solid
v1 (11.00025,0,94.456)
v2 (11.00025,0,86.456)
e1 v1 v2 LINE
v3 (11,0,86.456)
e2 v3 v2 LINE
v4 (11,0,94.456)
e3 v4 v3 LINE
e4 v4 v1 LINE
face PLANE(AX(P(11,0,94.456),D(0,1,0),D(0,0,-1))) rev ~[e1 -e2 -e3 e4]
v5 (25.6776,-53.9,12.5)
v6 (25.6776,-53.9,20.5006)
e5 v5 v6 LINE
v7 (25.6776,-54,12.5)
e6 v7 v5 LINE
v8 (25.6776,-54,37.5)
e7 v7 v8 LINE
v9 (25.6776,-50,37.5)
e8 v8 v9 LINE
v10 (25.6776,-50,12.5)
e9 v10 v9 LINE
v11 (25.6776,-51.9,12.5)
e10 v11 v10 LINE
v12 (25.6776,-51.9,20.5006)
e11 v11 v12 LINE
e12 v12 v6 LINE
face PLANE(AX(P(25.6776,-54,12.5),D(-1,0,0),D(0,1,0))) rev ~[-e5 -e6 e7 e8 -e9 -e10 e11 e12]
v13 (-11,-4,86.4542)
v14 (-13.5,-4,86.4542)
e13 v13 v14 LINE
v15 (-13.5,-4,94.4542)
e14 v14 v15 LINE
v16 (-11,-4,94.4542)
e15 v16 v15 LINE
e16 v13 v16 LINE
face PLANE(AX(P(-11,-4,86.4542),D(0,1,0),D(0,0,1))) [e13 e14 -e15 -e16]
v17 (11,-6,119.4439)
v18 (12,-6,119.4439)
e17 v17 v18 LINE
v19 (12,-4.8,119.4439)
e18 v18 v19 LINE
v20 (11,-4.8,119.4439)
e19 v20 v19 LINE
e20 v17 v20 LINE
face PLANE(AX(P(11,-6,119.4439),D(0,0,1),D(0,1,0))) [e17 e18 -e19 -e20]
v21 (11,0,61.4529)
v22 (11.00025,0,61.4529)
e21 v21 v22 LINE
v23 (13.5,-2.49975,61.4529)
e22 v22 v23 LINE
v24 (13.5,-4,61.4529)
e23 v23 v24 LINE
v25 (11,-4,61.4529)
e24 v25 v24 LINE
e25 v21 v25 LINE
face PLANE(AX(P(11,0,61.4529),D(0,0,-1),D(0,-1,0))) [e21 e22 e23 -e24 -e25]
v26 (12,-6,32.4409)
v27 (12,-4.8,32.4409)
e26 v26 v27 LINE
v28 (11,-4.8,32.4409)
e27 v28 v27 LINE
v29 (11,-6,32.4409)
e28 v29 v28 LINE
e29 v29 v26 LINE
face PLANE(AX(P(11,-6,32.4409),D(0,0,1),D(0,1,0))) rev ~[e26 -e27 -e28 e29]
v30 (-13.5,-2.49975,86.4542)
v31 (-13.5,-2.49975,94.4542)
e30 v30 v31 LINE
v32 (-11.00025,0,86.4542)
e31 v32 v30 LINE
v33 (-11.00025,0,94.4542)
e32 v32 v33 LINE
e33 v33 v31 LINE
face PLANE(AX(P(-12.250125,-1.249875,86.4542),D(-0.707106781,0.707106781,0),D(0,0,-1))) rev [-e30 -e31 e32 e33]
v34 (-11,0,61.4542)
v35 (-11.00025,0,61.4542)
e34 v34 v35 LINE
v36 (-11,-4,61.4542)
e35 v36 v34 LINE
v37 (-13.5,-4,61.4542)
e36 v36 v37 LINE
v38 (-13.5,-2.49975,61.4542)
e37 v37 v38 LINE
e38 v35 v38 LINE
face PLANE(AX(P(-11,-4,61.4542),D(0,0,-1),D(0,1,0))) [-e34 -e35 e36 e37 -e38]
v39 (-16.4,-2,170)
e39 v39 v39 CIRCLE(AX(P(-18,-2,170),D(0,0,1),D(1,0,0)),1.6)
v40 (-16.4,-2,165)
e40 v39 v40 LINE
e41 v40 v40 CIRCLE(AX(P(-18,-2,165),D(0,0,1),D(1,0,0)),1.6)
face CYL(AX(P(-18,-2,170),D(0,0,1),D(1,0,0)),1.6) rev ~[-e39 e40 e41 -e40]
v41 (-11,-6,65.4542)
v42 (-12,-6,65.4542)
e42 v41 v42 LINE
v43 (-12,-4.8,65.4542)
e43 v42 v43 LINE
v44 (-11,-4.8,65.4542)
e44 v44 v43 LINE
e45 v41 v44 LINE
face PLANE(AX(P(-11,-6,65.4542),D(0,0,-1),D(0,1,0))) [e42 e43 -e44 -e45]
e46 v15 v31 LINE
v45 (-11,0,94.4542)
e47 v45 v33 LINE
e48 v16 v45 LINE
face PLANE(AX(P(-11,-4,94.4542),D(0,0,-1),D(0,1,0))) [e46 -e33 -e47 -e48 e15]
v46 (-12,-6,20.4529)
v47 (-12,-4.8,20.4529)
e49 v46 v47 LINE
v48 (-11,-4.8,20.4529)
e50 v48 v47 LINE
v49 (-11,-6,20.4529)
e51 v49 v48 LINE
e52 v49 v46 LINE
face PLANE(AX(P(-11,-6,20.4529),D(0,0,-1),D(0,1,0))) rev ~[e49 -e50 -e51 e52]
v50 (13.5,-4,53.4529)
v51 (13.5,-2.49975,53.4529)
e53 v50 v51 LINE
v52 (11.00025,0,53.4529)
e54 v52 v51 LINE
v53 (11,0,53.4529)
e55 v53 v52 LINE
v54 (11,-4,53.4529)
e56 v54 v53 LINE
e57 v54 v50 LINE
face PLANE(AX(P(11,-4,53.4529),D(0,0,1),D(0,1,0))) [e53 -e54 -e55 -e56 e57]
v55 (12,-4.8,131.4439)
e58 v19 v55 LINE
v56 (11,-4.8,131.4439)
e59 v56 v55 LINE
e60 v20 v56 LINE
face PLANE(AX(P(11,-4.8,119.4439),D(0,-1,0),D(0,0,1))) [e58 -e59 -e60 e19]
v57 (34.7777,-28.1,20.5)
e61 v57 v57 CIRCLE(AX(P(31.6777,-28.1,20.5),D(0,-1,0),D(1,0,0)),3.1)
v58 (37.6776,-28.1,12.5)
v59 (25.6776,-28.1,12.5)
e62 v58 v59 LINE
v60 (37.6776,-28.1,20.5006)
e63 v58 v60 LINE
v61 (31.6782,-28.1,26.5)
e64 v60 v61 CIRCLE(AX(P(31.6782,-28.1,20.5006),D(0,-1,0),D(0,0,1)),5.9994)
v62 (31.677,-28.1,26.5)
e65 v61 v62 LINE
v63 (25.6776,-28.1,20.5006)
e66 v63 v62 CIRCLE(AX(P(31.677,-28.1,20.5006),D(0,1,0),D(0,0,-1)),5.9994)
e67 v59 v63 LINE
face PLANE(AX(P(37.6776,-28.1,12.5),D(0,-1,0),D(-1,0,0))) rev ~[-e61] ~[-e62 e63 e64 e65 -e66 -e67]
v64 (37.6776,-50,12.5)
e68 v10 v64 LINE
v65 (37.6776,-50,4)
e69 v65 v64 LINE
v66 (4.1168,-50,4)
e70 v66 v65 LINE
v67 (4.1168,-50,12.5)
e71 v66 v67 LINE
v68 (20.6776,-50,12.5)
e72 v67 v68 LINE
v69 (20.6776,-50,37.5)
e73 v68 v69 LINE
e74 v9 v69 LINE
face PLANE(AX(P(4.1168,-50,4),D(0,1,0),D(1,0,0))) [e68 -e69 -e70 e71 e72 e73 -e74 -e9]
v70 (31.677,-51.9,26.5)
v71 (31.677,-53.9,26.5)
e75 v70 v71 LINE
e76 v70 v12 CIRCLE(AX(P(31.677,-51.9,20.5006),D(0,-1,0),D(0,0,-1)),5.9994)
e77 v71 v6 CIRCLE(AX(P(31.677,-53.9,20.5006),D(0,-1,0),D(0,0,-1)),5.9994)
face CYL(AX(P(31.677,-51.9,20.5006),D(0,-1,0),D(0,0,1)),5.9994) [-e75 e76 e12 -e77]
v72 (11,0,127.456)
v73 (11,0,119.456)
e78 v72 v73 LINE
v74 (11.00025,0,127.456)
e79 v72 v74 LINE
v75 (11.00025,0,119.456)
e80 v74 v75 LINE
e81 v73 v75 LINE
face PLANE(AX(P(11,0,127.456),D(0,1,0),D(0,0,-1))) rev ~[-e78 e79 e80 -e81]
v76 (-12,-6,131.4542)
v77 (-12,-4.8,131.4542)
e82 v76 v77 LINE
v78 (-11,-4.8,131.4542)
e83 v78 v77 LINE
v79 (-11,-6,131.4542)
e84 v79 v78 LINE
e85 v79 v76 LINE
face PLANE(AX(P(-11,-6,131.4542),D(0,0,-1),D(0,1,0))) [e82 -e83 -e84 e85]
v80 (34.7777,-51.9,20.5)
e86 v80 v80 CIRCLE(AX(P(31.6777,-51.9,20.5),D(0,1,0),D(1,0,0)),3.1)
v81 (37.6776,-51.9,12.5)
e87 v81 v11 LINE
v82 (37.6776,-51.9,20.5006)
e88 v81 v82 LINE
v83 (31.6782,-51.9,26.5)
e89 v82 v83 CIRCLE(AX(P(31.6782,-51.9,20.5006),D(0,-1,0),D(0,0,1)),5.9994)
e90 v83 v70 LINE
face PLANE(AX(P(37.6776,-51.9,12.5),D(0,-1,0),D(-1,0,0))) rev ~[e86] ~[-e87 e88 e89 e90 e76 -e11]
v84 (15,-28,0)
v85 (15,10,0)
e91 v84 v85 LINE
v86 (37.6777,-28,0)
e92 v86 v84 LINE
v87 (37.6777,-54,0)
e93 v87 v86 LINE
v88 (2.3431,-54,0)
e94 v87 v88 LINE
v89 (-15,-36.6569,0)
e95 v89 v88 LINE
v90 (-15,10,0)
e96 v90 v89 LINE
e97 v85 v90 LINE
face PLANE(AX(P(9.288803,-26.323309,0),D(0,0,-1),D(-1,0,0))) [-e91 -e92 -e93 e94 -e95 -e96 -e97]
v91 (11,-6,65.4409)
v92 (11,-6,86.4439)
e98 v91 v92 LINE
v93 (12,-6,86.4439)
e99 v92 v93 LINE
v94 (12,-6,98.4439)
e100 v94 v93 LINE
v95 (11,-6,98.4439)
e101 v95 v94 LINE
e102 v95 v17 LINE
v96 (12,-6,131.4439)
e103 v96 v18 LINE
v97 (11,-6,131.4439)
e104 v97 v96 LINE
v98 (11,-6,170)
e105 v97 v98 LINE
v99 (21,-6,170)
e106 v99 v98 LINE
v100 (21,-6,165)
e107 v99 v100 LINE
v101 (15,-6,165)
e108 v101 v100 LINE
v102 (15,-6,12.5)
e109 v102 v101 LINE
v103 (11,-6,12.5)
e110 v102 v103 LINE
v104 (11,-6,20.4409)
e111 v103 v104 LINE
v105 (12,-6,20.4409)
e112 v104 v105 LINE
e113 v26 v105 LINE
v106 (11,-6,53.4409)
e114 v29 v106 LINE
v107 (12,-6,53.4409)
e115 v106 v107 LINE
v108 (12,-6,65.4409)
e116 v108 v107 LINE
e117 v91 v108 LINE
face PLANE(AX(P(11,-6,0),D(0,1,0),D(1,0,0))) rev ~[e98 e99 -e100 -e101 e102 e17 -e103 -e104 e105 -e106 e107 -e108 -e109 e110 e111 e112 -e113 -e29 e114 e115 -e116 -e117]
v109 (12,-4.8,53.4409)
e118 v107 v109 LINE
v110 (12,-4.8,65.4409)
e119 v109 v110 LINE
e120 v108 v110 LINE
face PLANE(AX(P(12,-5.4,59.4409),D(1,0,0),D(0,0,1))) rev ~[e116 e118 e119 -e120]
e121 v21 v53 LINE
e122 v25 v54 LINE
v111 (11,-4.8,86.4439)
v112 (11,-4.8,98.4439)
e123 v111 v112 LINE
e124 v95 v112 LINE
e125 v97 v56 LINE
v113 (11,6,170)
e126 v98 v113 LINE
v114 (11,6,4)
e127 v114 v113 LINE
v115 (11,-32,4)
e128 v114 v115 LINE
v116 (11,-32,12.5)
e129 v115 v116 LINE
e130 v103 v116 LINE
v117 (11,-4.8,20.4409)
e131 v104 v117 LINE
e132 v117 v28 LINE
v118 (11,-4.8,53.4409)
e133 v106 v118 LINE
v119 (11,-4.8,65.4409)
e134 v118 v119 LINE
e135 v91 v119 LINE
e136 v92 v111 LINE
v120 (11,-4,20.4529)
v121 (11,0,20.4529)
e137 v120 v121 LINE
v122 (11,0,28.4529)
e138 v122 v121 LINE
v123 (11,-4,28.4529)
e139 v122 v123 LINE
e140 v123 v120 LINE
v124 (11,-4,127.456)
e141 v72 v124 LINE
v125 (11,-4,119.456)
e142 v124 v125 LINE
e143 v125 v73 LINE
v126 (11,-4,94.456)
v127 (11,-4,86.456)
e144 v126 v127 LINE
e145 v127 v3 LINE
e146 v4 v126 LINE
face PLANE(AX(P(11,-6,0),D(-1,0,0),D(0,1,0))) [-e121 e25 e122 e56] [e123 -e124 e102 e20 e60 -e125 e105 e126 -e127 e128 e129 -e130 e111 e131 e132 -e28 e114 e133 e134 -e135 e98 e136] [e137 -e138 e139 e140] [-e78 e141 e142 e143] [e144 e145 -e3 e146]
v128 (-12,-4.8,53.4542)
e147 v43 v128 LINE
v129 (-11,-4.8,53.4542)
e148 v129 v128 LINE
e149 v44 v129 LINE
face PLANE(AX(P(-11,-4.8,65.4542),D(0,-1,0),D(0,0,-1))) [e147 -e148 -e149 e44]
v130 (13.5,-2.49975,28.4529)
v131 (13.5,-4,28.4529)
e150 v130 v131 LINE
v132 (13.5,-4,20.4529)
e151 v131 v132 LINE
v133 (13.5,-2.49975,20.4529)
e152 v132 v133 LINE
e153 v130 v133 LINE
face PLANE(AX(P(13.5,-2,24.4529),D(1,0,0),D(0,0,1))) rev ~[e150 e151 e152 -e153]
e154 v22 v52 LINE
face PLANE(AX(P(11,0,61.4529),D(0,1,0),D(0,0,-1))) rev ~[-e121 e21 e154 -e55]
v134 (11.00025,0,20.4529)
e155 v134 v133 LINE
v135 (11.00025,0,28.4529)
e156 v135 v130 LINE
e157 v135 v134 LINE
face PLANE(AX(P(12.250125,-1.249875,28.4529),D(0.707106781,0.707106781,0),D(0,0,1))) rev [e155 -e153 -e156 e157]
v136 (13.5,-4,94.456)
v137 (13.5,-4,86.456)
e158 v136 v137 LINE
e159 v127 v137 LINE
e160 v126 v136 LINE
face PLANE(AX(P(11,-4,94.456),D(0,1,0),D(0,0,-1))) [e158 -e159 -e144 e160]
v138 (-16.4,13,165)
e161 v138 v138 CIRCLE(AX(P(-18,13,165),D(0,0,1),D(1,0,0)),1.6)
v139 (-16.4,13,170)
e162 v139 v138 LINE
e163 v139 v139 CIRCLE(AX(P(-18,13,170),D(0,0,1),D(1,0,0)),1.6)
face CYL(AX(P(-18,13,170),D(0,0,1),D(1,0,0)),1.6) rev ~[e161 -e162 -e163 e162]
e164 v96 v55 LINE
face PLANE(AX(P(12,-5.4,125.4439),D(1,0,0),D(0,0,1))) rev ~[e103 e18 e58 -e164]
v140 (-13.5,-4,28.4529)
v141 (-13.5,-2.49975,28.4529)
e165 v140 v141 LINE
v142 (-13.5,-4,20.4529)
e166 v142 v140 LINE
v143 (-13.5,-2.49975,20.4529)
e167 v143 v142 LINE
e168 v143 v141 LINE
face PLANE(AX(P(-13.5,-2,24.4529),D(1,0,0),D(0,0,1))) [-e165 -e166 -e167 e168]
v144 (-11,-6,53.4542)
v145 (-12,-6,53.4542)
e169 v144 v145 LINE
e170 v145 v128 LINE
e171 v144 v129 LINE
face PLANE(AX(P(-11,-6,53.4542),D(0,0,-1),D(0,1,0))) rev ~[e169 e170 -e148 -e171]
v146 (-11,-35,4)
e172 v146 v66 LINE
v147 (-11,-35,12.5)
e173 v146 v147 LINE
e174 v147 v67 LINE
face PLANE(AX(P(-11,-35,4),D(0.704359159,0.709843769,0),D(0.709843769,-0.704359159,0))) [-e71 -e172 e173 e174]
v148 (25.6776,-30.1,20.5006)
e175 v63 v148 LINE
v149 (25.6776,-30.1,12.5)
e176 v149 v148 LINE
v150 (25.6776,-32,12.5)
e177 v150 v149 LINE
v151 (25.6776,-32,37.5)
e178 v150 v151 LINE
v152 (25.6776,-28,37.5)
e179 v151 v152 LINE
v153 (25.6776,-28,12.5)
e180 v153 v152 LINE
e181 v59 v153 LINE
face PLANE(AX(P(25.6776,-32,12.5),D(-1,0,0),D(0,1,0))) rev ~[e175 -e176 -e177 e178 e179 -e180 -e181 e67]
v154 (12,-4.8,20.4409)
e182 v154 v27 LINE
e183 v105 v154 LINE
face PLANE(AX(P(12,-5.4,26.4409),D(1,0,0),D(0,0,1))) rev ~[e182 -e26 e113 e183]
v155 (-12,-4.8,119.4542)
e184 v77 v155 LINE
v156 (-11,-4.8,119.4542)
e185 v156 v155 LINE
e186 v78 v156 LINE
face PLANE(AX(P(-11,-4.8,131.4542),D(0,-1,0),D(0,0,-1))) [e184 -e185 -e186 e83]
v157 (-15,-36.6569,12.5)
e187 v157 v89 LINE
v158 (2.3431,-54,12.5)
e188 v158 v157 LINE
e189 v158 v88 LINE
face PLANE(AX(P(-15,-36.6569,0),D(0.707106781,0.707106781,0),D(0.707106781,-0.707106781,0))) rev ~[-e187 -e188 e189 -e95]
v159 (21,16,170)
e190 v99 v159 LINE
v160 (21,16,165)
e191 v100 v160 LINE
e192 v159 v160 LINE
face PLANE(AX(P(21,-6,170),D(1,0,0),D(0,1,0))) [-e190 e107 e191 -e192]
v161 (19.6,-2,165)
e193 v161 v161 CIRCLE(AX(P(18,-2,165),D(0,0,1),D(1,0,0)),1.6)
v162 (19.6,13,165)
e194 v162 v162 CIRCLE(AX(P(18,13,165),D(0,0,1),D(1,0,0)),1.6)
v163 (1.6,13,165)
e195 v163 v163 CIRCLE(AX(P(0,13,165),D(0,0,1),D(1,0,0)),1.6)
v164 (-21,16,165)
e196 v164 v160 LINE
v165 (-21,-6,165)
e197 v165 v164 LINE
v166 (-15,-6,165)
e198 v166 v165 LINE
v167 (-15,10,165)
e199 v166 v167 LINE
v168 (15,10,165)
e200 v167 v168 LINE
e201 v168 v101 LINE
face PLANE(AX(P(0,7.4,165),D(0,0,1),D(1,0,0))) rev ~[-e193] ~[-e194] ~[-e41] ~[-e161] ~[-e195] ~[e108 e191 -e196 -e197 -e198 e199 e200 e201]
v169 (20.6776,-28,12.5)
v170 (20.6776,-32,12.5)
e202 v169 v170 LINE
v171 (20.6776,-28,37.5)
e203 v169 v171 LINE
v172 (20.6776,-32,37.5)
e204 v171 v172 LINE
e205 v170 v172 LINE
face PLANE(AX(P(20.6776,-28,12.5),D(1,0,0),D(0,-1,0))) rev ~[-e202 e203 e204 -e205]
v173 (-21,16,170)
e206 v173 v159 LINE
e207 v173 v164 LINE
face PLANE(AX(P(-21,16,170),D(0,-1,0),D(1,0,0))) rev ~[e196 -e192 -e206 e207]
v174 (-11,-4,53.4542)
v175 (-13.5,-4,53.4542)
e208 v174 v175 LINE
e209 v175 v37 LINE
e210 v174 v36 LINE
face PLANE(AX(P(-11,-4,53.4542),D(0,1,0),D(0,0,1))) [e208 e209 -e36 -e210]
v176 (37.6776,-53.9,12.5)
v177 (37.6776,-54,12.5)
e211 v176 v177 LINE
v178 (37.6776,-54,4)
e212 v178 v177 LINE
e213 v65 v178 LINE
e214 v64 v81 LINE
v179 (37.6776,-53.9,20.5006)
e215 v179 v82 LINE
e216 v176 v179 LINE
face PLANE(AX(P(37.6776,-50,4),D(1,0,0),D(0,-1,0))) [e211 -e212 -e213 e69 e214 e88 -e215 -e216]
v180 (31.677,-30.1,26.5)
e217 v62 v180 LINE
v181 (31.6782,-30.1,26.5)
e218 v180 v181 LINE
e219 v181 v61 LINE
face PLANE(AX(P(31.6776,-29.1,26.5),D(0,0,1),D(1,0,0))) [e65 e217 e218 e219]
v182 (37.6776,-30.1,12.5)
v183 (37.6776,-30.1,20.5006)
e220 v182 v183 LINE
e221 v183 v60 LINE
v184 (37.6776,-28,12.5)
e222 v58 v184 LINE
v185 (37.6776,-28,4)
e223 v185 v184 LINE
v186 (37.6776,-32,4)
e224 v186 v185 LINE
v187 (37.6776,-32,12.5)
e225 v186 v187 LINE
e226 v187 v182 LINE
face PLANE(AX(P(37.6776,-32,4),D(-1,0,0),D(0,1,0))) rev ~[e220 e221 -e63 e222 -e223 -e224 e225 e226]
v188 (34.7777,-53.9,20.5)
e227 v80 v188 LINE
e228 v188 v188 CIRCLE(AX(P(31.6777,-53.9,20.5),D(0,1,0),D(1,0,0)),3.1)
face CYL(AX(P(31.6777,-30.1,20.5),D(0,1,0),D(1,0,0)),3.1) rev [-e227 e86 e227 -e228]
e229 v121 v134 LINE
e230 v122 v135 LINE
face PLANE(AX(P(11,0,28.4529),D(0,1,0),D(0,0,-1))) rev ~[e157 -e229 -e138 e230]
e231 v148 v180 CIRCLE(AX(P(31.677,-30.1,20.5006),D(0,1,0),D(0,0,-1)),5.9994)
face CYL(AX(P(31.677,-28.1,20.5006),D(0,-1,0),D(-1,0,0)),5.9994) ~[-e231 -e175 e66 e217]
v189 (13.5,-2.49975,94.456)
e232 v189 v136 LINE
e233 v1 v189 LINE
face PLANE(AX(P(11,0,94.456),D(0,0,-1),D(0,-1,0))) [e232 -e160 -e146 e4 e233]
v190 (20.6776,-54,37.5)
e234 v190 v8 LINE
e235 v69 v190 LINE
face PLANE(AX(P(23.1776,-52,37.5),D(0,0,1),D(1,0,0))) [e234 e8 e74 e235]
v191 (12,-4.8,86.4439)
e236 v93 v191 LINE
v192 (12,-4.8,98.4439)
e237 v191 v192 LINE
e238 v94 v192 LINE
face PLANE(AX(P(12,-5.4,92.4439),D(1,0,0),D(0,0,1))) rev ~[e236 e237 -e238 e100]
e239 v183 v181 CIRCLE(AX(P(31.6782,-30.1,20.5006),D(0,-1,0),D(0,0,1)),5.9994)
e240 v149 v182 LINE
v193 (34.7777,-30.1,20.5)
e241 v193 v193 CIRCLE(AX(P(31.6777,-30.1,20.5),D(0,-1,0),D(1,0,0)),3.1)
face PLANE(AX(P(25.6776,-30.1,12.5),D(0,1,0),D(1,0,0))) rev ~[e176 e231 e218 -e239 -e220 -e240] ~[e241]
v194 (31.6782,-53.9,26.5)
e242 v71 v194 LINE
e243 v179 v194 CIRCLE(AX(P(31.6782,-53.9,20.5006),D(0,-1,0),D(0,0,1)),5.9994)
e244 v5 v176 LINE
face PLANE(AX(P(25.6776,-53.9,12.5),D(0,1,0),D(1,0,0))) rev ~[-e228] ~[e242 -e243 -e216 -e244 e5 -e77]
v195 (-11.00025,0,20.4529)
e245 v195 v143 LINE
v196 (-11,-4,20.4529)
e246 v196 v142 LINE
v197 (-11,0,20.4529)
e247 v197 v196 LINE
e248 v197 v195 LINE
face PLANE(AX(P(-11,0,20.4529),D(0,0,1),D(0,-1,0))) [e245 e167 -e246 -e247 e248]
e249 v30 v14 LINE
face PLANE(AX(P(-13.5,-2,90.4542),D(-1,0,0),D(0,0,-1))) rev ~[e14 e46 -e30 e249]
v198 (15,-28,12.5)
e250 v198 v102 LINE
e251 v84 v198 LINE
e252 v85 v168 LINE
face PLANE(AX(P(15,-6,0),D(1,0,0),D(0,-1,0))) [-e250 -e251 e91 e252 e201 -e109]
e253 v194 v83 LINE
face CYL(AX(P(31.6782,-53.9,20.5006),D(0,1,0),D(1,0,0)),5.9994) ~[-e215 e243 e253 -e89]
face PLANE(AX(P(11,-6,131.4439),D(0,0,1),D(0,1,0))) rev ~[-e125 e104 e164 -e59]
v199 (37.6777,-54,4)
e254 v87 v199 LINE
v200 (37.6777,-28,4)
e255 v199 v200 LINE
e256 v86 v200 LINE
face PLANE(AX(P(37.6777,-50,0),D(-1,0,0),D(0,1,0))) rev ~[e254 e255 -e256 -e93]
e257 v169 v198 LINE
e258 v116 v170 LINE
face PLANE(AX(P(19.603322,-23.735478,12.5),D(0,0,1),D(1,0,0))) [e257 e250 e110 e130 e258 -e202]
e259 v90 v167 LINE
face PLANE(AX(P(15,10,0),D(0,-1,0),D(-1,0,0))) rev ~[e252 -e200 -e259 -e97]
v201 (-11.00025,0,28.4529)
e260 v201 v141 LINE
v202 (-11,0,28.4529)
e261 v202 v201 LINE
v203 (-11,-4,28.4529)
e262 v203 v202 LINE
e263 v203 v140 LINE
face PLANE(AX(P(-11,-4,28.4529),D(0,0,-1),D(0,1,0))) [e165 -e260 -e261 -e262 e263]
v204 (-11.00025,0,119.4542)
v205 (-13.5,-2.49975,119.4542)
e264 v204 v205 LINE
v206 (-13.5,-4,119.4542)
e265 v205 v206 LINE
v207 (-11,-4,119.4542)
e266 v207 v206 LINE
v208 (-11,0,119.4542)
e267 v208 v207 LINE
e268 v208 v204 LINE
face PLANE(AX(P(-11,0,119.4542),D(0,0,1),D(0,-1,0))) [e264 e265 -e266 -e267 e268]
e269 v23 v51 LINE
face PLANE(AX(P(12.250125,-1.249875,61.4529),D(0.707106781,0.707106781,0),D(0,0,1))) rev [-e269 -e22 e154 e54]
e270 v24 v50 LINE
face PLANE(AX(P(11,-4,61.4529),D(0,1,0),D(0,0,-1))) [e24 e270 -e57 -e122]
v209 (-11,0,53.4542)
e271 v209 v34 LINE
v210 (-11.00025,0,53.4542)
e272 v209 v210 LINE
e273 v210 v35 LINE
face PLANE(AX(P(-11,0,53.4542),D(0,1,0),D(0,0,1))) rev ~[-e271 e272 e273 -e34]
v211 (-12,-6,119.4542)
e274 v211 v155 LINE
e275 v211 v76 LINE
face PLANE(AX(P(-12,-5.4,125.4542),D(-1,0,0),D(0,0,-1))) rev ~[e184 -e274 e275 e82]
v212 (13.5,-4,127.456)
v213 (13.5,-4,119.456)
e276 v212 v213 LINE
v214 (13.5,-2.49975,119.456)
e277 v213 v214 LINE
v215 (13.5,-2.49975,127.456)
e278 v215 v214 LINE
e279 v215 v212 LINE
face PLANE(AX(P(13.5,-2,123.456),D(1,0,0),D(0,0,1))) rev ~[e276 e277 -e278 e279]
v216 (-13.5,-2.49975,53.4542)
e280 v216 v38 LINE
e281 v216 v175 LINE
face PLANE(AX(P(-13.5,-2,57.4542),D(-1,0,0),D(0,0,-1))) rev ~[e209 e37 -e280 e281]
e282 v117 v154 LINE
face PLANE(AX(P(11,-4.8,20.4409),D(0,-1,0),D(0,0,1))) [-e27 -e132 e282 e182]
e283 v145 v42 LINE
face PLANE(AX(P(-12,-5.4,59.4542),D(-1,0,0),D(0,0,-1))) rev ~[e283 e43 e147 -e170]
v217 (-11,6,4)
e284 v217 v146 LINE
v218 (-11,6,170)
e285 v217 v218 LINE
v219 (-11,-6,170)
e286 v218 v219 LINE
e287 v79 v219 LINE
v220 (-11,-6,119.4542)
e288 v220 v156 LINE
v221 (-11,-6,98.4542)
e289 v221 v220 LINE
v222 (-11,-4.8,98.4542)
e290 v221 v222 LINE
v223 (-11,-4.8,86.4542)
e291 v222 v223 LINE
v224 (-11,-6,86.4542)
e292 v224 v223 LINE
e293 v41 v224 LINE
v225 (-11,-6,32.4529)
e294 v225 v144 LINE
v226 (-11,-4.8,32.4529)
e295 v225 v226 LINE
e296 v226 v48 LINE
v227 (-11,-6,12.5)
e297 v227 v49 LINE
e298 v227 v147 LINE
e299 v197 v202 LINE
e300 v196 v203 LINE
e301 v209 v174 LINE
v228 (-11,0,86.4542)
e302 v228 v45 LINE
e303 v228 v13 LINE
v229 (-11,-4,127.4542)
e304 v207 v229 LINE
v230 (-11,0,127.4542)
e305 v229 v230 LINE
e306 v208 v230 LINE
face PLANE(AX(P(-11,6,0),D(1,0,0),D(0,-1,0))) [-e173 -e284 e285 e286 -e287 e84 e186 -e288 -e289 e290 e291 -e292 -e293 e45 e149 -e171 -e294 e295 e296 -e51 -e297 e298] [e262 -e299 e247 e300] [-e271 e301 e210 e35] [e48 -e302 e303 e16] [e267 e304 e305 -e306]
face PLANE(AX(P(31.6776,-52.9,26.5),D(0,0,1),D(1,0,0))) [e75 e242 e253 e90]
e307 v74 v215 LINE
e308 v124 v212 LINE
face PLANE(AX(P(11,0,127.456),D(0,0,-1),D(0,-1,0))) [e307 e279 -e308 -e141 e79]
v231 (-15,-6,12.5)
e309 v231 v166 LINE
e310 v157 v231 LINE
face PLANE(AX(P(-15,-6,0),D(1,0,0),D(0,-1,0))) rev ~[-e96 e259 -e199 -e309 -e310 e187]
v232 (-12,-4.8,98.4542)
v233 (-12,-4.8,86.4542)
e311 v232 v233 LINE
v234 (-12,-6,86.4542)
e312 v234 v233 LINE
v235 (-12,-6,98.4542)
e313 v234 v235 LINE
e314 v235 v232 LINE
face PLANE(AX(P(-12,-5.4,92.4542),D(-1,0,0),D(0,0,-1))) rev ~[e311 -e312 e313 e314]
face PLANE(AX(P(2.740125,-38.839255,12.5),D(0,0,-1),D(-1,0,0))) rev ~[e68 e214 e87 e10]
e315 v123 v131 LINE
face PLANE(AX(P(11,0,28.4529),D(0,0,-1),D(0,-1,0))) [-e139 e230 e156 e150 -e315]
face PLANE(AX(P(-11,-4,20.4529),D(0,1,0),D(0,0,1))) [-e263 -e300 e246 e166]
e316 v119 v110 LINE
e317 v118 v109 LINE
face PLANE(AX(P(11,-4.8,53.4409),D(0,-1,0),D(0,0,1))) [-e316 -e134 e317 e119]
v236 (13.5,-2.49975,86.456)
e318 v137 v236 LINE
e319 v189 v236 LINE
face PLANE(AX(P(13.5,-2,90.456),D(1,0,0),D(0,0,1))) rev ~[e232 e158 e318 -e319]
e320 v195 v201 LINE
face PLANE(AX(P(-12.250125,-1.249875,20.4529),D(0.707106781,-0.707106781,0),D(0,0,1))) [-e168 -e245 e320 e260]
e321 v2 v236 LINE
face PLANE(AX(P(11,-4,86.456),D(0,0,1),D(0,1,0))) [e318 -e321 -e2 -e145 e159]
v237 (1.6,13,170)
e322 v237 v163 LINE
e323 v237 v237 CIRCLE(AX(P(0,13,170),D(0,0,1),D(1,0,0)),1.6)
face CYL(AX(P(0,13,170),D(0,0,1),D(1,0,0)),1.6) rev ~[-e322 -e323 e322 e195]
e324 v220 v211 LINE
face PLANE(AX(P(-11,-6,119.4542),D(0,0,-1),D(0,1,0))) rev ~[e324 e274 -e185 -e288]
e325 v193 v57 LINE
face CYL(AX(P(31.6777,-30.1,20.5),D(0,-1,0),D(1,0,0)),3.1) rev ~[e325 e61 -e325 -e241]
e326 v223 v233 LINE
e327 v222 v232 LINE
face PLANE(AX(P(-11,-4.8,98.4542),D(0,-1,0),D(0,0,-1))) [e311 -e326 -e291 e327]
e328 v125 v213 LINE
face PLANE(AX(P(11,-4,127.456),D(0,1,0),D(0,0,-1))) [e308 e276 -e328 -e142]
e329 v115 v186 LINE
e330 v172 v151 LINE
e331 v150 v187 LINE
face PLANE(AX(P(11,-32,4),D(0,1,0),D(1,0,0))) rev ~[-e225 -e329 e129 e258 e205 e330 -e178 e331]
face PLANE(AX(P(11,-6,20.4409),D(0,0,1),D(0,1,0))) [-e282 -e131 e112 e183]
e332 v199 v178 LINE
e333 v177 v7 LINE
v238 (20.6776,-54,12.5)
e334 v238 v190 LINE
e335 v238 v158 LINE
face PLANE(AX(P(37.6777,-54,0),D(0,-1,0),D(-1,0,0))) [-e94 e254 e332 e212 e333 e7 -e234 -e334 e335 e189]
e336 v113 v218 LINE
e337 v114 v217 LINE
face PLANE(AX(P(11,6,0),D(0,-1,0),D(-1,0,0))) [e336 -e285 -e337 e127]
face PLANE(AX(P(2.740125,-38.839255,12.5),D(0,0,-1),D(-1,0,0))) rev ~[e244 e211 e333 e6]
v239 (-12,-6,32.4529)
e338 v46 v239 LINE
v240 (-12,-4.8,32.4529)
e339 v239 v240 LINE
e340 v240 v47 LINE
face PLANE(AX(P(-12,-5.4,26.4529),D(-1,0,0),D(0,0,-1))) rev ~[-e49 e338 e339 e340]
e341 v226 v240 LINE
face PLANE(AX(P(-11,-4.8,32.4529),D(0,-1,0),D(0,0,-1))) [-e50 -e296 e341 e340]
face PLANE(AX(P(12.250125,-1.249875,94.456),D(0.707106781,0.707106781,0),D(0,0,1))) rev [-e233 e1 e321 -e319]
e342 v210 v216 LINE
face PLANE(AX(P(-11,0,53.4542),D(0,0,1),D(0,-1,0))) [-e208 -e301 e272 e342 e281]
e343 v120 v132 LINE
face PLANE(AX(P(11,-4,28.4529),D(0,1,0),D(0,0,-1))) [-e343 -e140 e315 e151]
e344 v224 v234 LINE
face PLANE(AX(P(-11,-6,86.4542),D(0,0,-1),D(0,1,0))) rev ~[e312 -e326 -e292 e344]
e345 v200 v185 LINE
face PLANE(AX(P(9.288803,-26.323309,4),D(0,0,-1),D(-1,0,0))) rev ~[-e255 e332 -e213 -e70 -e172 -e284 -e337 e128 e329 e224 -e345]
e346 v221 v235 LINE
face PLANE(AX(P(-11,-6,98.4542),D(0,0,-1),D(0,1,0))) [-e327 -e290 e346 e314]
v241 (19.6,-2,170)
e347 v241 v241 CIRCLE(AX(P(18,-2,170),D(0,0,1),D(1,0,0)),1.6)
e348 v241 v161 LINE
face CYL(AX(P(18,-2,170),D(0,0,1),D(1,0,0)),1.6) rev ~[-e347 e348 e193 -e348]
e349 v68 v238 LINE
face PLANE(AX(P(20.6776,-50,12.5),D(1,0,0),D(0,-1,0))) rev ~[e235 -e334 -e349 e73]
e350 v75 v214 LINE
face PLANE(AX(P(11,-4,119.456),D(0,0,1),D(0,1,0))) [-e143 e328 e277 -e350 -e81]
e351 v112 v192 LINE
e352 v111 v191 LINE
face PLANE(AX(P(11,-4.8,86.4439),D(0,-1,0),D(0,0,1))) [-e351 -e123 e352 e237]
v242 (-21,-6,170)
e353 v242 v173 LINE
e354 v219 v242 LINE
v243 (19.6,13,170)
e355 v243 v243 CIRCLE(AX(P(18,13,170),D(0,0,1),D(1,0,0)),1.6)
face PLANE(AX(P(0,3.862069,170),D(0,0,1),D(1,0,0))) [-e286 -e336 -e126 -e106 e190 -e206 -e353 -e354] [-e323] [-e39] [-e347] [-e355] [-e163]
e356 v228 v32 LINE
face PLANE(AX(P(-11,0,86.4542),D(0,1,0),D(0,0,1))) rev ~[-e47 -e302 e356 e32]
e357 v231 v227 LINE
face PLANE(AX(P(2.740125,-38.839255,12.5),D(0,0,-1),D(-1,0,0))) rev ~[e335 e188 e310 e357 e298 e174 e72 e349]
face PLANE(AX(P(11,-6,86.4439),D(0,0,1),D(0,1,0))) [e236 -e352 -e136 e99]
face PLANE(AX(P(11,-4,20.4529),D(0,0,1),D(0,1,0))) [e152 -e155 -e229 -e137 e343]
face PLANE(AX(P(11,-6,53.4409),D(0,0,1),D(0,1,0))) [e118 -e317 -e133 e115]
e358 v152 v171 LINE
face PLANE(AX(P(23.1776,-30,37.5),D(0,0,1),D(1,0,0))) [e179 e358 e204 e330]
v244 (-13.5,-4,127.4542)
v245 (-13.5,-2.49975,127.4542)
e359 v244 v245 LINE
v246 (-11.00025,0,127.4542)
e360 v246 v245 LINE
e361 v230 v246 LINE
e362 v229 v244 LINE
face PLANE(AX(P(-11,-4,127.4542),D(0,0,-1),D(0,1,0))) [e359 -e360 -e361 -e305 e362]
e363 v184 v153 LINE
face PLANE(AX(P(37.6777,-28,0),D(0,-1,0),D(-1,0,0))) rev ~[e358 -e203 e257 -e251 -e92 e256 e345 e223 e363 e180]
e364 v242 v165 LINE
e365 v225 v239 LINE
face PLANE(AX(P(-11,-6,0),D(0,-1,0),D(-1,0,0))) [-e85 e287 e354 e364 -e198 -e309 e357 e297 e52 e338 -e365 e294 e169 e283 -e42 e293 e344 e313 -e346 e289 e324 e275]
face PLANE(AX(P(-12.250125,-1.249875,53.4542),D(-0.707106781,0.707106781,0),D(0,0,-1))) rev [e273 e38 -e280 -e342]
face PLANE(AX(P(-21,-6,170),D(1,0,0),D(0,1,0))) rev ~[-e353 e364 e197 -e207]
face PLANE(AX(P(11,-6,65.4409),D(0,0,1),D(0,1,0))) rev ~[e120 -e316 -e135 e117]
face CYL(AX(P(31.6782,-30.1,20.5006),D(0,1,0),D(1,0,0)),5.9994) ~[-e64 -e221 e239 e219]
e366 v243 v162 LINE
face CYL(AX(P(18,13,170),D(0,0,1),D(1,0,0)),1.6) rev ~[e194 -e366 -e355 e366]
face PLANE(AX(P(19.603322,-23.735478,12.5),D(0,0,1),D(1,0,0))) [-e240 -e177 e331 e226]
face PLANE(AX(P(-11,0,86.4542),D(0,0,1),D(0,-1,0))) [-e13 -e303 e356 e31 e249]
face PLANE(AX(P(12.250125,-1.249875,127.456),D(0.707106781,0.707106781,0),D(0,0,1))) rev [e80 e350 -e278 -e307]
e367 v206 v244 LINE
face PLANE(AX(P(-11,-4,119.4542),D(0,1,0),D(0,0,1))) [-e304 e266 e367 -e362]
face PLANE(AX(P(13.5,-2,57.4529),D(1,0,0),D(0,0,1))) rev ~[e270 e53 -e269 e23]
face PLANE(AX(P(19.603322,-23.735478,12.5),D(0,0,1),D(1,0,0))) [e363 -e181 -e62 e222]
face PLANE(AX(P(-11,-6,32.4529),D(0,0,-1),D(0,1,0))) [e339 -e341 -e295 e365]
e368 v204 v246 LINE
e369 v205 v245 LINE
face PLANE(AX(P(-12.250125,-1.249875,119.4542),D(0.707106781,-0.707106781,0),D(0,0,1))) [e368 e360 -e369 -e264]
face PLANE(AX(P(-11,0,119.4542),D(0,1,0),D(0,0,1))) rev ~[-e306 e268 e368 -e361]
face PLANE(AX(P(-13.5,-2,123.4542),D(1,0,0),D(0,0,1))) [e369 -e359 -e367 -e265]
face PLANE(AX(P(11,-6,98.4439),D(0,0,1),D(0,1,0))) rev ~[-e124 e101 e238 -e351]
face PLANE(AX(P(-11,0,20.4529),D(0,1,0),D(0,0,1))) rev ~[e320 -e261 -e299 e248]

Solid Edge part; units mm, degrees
sketch "Sketch1" plane through (0, 0, 0) normal (0, 0, 1) x (1, 0, 0)
  line L0 (15, -6) -> (15, 10)
  line L1 (15, 10) -> (-15, 10)
  line L2 (-15, 10) -> (-15, -6)
  line L3 (-11, -6) -> (-15, -6)
  line L4 (-11, 6) -> (-11, -6)
  line L5 (11, 6) -> (-11, 6)
  line L6 (11, -6) -> (11, 6)
  line L7 (11, -6) -> (15, -6)
extrude "Protrusion1" add sketch "Sketch1" along normal blind 170
sketch "Sketch2" plane through (0, 2, 170) normal (0, 0, 1) x (1, 0, 0)
  line L0 (21, -8) -> (21, 14)
  line L1 (-21, 14) -> (21, 14)
  line L2 (-21, -8) -> (-21, 14)
  line L3 (-15, -8) -> (-21, -8)
  line L4 (-15, -8) -> (-15, 8)
  line L5 (-15, 8) -> (15, 8)
  line L6 (15, 8) -> (15, -8)
  line L7 (15, -8) -> (21, -8)
extrude "ExtrudedProtrusion_2" add sketch "Sketch2" against normal blind 5
sketch "Sketch3" plane through (0, 5, 170) normal (0, 0, 1) x (1, 0, 0)
  circle A0 centre (-18, 8) radius 1.6
  circle A1 centre (-18, -7) radius 1.6
  circle A2 centre (18, -7) radius 1.6
  circle A3 centre (18, 8) radius 1.6
  circle A4 centre (0, 8) radius 1.6
  dimension "D1" = 15
  dimension "D2" = 4
extrude "Cutout1" cut sketch "Sketch3" against normal through all
sketch "Sketch4" plane through (-11, 0, 85) normal (1, 0, 0) x (0, 0, 1)
  line L0 (-64.5471, 0) -> (-56.5471, 0)
  line L1 (-56.5471, 4) -> (-56.5471, 0)
  line L2 (-64.5471, 4) -> (-56.5471, 4)
  line L3 (-64.5471, 0) -> (-64.5471, 4)
  line L4 (-31.5458, 0) -> (-31.5458, 4)
  line L5 (-31.5458, 4) -> (-23.5458, 4)
  line L6 (-23.5458, 4) -> (-23.5458, 0)
  line L7 (-31.5458, 0) -> (-23.5458, 0)
  line L8 (1.4542, 0) -> (1.4542, 4)
  line L9 (1.4542, 4) -> (9.4542, 4)
  line L10 (9.4542, 4) -> (9.4542, 0)
  line L11 (1.4542, 0) -> (9.4542, 0)
  line L12 (34.4542, 0) -> (42.4542, 0)
  line L13 (42.4542, 4) -> (42.4542, 0)
  line L14 (34.4542, 4) -> (42.4542, 4)
  line L15 (34.4542, 0) -> (34.4542, 4)
extrude "ExtrudedCutout_2" cut sketch "Sketch4" against normal blind 2.5
chamfer "Chamfer_1" distance 2.5 angle 45 4 edges at (-13.5, 0, 24.4529) (-13.5, 0, 57.4542) (-13.5, 0, 90.4542) (-13.5, 0, 123.4542)
sketch "Sketch5" plane through (-11, 0, 85) normal (1, 0, 0) x (0, 0, 1)
  line L0 (-52.5471, 4.8) -> (-64.5471, 4.8)
  line L1 (-64.5471, 6) -> (-64.5471, 4.8)
  line L2 (-64.5471, 6) -> (-52.5471, 6)
  line L3 (-52.5471, 6) -> (-52.5471, 4.8)
  line L4 (-19.5458, 4.8) -> (-31.5458, 4.8)
  line L5 (-31.5458, 6) -> (-31.5458, 4.8)
  line L6 (-31.5458, 6) -> (-19.5458, 6)
  line L7 (-19.5458, 6) -> (-19.5458, 4.8)
  line L8 (13.4542, 4.8) -> (1.4542, 4.8)
  line L9 (1.4542, 6) -> (1.4542, 4.8)
  line L10 (1.4542, 6) -> (13.4542, 6)
  line L11 (13.4542, 6) -> (13.4542, 4.8)
  line L12 (46.4542, 4.8) -> (34.4542, 4.8)
  line L13 (34.4542, 6) -> (34.4542, 4.8)
  line L14 (34.4542, 6) -> (46.4542, 6)
  line L15 (46.4542, 6) -> (46.4542, 4.8)
  dimension "D1" = 25.0013
  dimension "D2" = 12
  dimension "D3" = 1.2
  dimension "D4" = 4
  dimension "D5" = 8
  dimension "D6" = 0.8
  dimension "D7" = 4
  dimension "D8" = 1.2
  dimension "D9" = 8
  dimension "D10" = 20.4529
  dimension "D11" = 0.8
  dimension "D12" = 4
  dimension "D13" = 12
  dimension "D14" = 1.2
  dimension "D15" = 8
  dimension "D16" = 12
  dimension "D17" = 1.2
  dimension "D18" = 4
  dimension "D19" = 8
  dimension "D20" = 0.8
  dimension "D21" = 4
  dimension "D22" = 1.2
  dimension "D23" = 8
  dimension "D24" = 25
  dimension "D25" = 21.0013
  dimension "D26" = 21
  dimension "D27" = 12
  dimension "D28" = 1.2
  dimension "D29" = 4
  dimension "D30" = 8
  dimension "D31" = 0.8
  dimension "D32" = 4
  dimension "D33" = 1.2
  dimension "D34" = 8
  dimension "D35" = 21
  dimension "D36" = 25
extrude "ExtrudedCutout_4" cut sketch "Sketch5" against normal blind 1
sketch "Sketch6" plane through (11, 0, 85) normal (-1, 0, 0) x (0, 0, -1)
  line L0 (56.5471, 0) -> (56.5471, 4)
  line L1 (56.5471, 4) -> (64.5471, 4)
  line L2 (64.5471, 4) -> (64.5471, 0)
  line L3 (56.5471, 0) -> (64.5471, 0)
  line L4 (31.5471, 4) -> (31.5471, 0)
  line L5 (23.5471, 0) -> (31.5471, 0)
  line L6 (23.5471, 0) -> (23.5471, 4)
  line L7 (23.5471, 4) -> (31.5471, 4)
  line L8 (-1.456, 4) -> (-1.456, 0)
  line L9 (-9.456, 0) -> (-1.456, 0)
  line L10 (-9.456, 0) -> (-9.456, 4)
  line L11 (-9.456, 4) -> (-1.456, 4)
  line L12 (-34.456, 4) -> (-34.456, 0)
  line L13 (-42.456, 0) -> (-34.456, 0)
  line L14 (-42.456, 0) -> (-42.456, 4)
  line L15 (-42.456, 4) -> (-34.456, 4)
  dimension "D1" = 12
  dimension "D2" = 1.2
  dimension "D3" = 4
  dimension "D4" = 8
  dimension "D5" = 0.8
  dimension "D6" = 4
  dimension "D7" = 1.2
  dimension "D8" = 8
  dimension "D9" = 12
  dimension "D10" = 1.2
  dimension "D11" = 4
  dimension "D12" = 8
  dimension "D13" = 0.8
  dimension "D14" = 4
  dimension "D15" = 1.2
  dimension "D16" = 8
  dimension "D17" = 12
  dimension "D18" = 1.2
  dimension "D19" = 4
  dimension "D20" = 8
  dimension "D21" = 0.8
  dimension "D22" = 4
  dimension "D23" = 1.2
  dimension "D24" = 8
  dimension "D25" = 12
  dimension "D26" = 1.2
  dimension "D27" = 4
  dimension "D28" = 8
  dimension "D29" = 0.8
  dimension "D30" = 4
  dimension "D31" = 1.2
  dimension "D32" = 8
  dimension "D33" = 21
  dimension "D34" = 25
  dimension "D35" = 25.0031
  dimension "D36" = 21.0031
  dimension "D37" = 21
  dimension "D38" = 25
extrude "ExtrudedCutout_5" cut sketch "Sketch6" against normal blind 2.5
sketch "Sketch7" plane through (11, 0, 85) normal (-1, 0, 0) x (0, 0, -1)
  line L0 (52.5591, 6) -> (64.5591, 6)
  line L1 (64.5591, 6) -> (64.5591, 4.8)
  line L2 (64.5591, 4.8) -> (52.5591, 4.8)
  line L3 (52.5591, 6) -> (52.5591, 4.8)
  line L4 (31.5591, 6) -> (31.5591, 4.8)
  line L5 (31.5591, 4.8) -> (19.5591, 4.8)
  line L6 (19.5591, 6) -> (19.5591, 4.8)
  line L7 (19.5591, 6) -> (31.5591, 6)
  line L8 (-13.4439, 6) -> (-1.4439, 6)
  line L9 (-1.4439, 6) -> (-1.4439, 4.8)
  line L10 (-1.4439, 4.8) -> (-13.4439, 4.8)
  line L11 (-13.4439, 6) -> (-13.4439, 4.8)
  line L12 (-34.4439, 6) -> (-34.4439, 4.8)
  line L13 (-34.4439, 4.8) -> (-46.4439, 4.8)
  line L14 (-46.4439, 6) -> (-46.4439, 4.8)
  line L15 (-46.4439, 6) -> (-34.4439, 6)
  dimension "D1" = 12
  dimension "D2" = 1.2
  dimension "D3" = 4
  dimension "D4" = 8
  dimension "D5" = 0.8
  dimension "D6" = 4
  dimension "D7" = 1.2
  dimension "D8" = 8
  dimension "D9" = 12
  dimension "D10" = 1.2
  dimension "D11" = 4
  dimension "D12" = 8
  dimension "D13" = 0.8
  dimension "D14" = 4
  dimension "D15" = 1.2
  dimension "D16" = 8
  dimension "D17" = 12
  dimension "D18" = 1.2
  dimension "D19" = 4
  dimension "D20" = 8
  dimension "D21" = 0.8
  dimension "D22" = 4
  dimension "D23" = 1.2
  dimension "D24" = 8
  dimension "D25" = 12
  dimension "D26" = 1.2
  dimension "D27" = 4
  dimension "D28" = 8
  dimension "D29" = 0.8
  dimension "D30" = 4
  dimension "D31" = 1.2
  dimension "D32" = 8
  dimension "D33" = 21
  dimension "D34" = 25
  dimension "D35" = 25.0031
  dimension "D36" = 21.0031
  dimension "D37" = 21
  dimension "D38" = 25
extrude "ExtrudedCutout_6" cut sketch "Sketch7" against normal blind 1
chamfer "Chamfer_2" distance 2.5 angle 45 4 edges at (13.5, 0, 24.4529) (13.5, 0, 57.4529) (13.5, 0, 90.456) (13.5, 0, 123.456)
sketch "Sketch8" plane through (0, 2, 0) normal (0, 0, -1) x (1, 0, 0)
  line L0 (15, 8) -> (15, 30)
  line L1 (37.6777, 30) -> (15, 30)
  line L2 (37.6777, 52) -> (37.6777, 30)
  line L3 (37.6777, 52) -> (37.6777, 56)
  line L4 (37.6777, 56) -> (2.3431, 56)
  line L5 (-15, 38.6569) -> (2.3431, 56)
  line L6 (-15, 8) -> (-15, 38.6569)
  line L7 (-11, 8) -> (-15, 8)
  line L8 (-11, -4) -> (-11, 8)
  line L9 (11, -4) -> (-11, -4)
  line L10 (11, 8) -> (11, -4)
  line L11 (11, 8) -> (15, 8)
extrude "ExtrudedProtrusion_4" add sketch "Sketch8" against normal blind 4
sketch "Sketch9" plane through (11.3388, -23.3123, 4) normal (0, 0, 1) x (0, -1, 0)
  line L0 (8.6877, -0.3388) -> (8.6877, 26.3388)
  line L1 (8.6877, 26.3388) -> (4.6877, 26.3388)
  line L2 (4.6877, 26.3388) -> (4.6877, 3.6612)
  line L3 (4.6877, 3.6612) -> (-17.3123, 3.6612)
  line L4 (-17.3123, 3.6612) -> (-17.3123, -0.3388)
  line L5 (-17.3123, -0.3388) -> (8.6877, -0.3388)
  line L6 (26.6877, -7.222) -> (26.6877, 26.3388)
  line L7 (26.6877, 26.3388) -> (30.6877, 26.3388)
  line L8 (30.6877, 26.3388) -> (30.6877, -8.9957)
  line L9 (30.6877, -8.9957) -> (13.3446, -26.3388)
  line L10 (13.3446, -26.3388) -> (-17.3123, -26.3388)
  line L11 (-17.3123, -26.3388) -> (-17.3123, -22.3388)
  line L12 (-17.3123, -22.3388) -> (11.6877, -22.3388)
  line L13 (11.6877, -22.3388) -> (26.6877, -7.222)
extrude "ExtrudedProtrusion_5" add sketch "Sketch9" along normal blind 8.5
sketch "Sketch10" plane through (11.3388, -29.3123, 12.5) normal (0, 0, 1) x (1, 0, 0)
  line L0 (14.3388, -0.7877) -> (26.3388, -0.7877)
  line L1 (26.3388, -0.7877) -> (26.3388, 1.2123)
  line L2 (26.3388, 1.2123) -> (14.3388, 1.2123)
  line L3 (14.3388, 1.2123) -> (14.3388, -0.7877)
  line L4 (26.3388, -22.5877) -> (14.3388, -22.5877)
  line L5 (14.3388, -22.5877) -> (14.3388, -24.5877)
  line L6 (14.3388, -24.5877) -> (26.3388, -24.5877)
  line L7 (26.3388, -24.5877) -> (26.3388, -22.5877)
  dimension "D1" = 2
  dimension "D2" = 12
  dimension "D3" = 0.1
  dimension "D4" = 0.1
  dimension "D5" = 2
  dimension "D6" = 12
  dimension "D7" = 25.8
extrude "ExtrudedProtrusion_6" add sketch "Sketch10" along normal blind 14
sketch "Sketch11" plane through (31.6777, -30.1, 19.5) normal (0, -1, 0) x (1, 0, 0)
  circle A0 centre (0, 1) radius 3.1
extrude "ExtrudedCutout_7" cut sketch "Sketch11" along normal mid plane 58.5822
fillet "Round_4" radius 6 4 edges at (37.6777, -52.9, 26.5) (37.6777, -29.1, 26.5) (25.6777, -29.1, 26.5) (25.6777, -52.9, 26.5)
sketch "Sketch12" plane through (24.3388, -19, 12.5) normal (0, 0, 1) x (0, -1, 0)
  line L0 (31, -3.6612) -> (35, -3.6612)
  line L1 (35, -3.6612) -> (35, 1.3388)
  line L2 (35, 1.3388) -> (31, 1.3388)
  line L3 (31, 1.3388) -> (31, -3.6612)
  line L4 (9, -3.6612) -> (13, -3.6612)
  line L5 (13, -3.6612) -> (13, 1.3388)
  line L6 (13, 1.3388) -> (9, 1.3388)
  line L7 (9, 1.3388) -> (9, -3.6612)
  dimension "D1" = 5
extrude "ExtrudedProtrusion_7" add sketch "Sketch12" along normal blind 25
